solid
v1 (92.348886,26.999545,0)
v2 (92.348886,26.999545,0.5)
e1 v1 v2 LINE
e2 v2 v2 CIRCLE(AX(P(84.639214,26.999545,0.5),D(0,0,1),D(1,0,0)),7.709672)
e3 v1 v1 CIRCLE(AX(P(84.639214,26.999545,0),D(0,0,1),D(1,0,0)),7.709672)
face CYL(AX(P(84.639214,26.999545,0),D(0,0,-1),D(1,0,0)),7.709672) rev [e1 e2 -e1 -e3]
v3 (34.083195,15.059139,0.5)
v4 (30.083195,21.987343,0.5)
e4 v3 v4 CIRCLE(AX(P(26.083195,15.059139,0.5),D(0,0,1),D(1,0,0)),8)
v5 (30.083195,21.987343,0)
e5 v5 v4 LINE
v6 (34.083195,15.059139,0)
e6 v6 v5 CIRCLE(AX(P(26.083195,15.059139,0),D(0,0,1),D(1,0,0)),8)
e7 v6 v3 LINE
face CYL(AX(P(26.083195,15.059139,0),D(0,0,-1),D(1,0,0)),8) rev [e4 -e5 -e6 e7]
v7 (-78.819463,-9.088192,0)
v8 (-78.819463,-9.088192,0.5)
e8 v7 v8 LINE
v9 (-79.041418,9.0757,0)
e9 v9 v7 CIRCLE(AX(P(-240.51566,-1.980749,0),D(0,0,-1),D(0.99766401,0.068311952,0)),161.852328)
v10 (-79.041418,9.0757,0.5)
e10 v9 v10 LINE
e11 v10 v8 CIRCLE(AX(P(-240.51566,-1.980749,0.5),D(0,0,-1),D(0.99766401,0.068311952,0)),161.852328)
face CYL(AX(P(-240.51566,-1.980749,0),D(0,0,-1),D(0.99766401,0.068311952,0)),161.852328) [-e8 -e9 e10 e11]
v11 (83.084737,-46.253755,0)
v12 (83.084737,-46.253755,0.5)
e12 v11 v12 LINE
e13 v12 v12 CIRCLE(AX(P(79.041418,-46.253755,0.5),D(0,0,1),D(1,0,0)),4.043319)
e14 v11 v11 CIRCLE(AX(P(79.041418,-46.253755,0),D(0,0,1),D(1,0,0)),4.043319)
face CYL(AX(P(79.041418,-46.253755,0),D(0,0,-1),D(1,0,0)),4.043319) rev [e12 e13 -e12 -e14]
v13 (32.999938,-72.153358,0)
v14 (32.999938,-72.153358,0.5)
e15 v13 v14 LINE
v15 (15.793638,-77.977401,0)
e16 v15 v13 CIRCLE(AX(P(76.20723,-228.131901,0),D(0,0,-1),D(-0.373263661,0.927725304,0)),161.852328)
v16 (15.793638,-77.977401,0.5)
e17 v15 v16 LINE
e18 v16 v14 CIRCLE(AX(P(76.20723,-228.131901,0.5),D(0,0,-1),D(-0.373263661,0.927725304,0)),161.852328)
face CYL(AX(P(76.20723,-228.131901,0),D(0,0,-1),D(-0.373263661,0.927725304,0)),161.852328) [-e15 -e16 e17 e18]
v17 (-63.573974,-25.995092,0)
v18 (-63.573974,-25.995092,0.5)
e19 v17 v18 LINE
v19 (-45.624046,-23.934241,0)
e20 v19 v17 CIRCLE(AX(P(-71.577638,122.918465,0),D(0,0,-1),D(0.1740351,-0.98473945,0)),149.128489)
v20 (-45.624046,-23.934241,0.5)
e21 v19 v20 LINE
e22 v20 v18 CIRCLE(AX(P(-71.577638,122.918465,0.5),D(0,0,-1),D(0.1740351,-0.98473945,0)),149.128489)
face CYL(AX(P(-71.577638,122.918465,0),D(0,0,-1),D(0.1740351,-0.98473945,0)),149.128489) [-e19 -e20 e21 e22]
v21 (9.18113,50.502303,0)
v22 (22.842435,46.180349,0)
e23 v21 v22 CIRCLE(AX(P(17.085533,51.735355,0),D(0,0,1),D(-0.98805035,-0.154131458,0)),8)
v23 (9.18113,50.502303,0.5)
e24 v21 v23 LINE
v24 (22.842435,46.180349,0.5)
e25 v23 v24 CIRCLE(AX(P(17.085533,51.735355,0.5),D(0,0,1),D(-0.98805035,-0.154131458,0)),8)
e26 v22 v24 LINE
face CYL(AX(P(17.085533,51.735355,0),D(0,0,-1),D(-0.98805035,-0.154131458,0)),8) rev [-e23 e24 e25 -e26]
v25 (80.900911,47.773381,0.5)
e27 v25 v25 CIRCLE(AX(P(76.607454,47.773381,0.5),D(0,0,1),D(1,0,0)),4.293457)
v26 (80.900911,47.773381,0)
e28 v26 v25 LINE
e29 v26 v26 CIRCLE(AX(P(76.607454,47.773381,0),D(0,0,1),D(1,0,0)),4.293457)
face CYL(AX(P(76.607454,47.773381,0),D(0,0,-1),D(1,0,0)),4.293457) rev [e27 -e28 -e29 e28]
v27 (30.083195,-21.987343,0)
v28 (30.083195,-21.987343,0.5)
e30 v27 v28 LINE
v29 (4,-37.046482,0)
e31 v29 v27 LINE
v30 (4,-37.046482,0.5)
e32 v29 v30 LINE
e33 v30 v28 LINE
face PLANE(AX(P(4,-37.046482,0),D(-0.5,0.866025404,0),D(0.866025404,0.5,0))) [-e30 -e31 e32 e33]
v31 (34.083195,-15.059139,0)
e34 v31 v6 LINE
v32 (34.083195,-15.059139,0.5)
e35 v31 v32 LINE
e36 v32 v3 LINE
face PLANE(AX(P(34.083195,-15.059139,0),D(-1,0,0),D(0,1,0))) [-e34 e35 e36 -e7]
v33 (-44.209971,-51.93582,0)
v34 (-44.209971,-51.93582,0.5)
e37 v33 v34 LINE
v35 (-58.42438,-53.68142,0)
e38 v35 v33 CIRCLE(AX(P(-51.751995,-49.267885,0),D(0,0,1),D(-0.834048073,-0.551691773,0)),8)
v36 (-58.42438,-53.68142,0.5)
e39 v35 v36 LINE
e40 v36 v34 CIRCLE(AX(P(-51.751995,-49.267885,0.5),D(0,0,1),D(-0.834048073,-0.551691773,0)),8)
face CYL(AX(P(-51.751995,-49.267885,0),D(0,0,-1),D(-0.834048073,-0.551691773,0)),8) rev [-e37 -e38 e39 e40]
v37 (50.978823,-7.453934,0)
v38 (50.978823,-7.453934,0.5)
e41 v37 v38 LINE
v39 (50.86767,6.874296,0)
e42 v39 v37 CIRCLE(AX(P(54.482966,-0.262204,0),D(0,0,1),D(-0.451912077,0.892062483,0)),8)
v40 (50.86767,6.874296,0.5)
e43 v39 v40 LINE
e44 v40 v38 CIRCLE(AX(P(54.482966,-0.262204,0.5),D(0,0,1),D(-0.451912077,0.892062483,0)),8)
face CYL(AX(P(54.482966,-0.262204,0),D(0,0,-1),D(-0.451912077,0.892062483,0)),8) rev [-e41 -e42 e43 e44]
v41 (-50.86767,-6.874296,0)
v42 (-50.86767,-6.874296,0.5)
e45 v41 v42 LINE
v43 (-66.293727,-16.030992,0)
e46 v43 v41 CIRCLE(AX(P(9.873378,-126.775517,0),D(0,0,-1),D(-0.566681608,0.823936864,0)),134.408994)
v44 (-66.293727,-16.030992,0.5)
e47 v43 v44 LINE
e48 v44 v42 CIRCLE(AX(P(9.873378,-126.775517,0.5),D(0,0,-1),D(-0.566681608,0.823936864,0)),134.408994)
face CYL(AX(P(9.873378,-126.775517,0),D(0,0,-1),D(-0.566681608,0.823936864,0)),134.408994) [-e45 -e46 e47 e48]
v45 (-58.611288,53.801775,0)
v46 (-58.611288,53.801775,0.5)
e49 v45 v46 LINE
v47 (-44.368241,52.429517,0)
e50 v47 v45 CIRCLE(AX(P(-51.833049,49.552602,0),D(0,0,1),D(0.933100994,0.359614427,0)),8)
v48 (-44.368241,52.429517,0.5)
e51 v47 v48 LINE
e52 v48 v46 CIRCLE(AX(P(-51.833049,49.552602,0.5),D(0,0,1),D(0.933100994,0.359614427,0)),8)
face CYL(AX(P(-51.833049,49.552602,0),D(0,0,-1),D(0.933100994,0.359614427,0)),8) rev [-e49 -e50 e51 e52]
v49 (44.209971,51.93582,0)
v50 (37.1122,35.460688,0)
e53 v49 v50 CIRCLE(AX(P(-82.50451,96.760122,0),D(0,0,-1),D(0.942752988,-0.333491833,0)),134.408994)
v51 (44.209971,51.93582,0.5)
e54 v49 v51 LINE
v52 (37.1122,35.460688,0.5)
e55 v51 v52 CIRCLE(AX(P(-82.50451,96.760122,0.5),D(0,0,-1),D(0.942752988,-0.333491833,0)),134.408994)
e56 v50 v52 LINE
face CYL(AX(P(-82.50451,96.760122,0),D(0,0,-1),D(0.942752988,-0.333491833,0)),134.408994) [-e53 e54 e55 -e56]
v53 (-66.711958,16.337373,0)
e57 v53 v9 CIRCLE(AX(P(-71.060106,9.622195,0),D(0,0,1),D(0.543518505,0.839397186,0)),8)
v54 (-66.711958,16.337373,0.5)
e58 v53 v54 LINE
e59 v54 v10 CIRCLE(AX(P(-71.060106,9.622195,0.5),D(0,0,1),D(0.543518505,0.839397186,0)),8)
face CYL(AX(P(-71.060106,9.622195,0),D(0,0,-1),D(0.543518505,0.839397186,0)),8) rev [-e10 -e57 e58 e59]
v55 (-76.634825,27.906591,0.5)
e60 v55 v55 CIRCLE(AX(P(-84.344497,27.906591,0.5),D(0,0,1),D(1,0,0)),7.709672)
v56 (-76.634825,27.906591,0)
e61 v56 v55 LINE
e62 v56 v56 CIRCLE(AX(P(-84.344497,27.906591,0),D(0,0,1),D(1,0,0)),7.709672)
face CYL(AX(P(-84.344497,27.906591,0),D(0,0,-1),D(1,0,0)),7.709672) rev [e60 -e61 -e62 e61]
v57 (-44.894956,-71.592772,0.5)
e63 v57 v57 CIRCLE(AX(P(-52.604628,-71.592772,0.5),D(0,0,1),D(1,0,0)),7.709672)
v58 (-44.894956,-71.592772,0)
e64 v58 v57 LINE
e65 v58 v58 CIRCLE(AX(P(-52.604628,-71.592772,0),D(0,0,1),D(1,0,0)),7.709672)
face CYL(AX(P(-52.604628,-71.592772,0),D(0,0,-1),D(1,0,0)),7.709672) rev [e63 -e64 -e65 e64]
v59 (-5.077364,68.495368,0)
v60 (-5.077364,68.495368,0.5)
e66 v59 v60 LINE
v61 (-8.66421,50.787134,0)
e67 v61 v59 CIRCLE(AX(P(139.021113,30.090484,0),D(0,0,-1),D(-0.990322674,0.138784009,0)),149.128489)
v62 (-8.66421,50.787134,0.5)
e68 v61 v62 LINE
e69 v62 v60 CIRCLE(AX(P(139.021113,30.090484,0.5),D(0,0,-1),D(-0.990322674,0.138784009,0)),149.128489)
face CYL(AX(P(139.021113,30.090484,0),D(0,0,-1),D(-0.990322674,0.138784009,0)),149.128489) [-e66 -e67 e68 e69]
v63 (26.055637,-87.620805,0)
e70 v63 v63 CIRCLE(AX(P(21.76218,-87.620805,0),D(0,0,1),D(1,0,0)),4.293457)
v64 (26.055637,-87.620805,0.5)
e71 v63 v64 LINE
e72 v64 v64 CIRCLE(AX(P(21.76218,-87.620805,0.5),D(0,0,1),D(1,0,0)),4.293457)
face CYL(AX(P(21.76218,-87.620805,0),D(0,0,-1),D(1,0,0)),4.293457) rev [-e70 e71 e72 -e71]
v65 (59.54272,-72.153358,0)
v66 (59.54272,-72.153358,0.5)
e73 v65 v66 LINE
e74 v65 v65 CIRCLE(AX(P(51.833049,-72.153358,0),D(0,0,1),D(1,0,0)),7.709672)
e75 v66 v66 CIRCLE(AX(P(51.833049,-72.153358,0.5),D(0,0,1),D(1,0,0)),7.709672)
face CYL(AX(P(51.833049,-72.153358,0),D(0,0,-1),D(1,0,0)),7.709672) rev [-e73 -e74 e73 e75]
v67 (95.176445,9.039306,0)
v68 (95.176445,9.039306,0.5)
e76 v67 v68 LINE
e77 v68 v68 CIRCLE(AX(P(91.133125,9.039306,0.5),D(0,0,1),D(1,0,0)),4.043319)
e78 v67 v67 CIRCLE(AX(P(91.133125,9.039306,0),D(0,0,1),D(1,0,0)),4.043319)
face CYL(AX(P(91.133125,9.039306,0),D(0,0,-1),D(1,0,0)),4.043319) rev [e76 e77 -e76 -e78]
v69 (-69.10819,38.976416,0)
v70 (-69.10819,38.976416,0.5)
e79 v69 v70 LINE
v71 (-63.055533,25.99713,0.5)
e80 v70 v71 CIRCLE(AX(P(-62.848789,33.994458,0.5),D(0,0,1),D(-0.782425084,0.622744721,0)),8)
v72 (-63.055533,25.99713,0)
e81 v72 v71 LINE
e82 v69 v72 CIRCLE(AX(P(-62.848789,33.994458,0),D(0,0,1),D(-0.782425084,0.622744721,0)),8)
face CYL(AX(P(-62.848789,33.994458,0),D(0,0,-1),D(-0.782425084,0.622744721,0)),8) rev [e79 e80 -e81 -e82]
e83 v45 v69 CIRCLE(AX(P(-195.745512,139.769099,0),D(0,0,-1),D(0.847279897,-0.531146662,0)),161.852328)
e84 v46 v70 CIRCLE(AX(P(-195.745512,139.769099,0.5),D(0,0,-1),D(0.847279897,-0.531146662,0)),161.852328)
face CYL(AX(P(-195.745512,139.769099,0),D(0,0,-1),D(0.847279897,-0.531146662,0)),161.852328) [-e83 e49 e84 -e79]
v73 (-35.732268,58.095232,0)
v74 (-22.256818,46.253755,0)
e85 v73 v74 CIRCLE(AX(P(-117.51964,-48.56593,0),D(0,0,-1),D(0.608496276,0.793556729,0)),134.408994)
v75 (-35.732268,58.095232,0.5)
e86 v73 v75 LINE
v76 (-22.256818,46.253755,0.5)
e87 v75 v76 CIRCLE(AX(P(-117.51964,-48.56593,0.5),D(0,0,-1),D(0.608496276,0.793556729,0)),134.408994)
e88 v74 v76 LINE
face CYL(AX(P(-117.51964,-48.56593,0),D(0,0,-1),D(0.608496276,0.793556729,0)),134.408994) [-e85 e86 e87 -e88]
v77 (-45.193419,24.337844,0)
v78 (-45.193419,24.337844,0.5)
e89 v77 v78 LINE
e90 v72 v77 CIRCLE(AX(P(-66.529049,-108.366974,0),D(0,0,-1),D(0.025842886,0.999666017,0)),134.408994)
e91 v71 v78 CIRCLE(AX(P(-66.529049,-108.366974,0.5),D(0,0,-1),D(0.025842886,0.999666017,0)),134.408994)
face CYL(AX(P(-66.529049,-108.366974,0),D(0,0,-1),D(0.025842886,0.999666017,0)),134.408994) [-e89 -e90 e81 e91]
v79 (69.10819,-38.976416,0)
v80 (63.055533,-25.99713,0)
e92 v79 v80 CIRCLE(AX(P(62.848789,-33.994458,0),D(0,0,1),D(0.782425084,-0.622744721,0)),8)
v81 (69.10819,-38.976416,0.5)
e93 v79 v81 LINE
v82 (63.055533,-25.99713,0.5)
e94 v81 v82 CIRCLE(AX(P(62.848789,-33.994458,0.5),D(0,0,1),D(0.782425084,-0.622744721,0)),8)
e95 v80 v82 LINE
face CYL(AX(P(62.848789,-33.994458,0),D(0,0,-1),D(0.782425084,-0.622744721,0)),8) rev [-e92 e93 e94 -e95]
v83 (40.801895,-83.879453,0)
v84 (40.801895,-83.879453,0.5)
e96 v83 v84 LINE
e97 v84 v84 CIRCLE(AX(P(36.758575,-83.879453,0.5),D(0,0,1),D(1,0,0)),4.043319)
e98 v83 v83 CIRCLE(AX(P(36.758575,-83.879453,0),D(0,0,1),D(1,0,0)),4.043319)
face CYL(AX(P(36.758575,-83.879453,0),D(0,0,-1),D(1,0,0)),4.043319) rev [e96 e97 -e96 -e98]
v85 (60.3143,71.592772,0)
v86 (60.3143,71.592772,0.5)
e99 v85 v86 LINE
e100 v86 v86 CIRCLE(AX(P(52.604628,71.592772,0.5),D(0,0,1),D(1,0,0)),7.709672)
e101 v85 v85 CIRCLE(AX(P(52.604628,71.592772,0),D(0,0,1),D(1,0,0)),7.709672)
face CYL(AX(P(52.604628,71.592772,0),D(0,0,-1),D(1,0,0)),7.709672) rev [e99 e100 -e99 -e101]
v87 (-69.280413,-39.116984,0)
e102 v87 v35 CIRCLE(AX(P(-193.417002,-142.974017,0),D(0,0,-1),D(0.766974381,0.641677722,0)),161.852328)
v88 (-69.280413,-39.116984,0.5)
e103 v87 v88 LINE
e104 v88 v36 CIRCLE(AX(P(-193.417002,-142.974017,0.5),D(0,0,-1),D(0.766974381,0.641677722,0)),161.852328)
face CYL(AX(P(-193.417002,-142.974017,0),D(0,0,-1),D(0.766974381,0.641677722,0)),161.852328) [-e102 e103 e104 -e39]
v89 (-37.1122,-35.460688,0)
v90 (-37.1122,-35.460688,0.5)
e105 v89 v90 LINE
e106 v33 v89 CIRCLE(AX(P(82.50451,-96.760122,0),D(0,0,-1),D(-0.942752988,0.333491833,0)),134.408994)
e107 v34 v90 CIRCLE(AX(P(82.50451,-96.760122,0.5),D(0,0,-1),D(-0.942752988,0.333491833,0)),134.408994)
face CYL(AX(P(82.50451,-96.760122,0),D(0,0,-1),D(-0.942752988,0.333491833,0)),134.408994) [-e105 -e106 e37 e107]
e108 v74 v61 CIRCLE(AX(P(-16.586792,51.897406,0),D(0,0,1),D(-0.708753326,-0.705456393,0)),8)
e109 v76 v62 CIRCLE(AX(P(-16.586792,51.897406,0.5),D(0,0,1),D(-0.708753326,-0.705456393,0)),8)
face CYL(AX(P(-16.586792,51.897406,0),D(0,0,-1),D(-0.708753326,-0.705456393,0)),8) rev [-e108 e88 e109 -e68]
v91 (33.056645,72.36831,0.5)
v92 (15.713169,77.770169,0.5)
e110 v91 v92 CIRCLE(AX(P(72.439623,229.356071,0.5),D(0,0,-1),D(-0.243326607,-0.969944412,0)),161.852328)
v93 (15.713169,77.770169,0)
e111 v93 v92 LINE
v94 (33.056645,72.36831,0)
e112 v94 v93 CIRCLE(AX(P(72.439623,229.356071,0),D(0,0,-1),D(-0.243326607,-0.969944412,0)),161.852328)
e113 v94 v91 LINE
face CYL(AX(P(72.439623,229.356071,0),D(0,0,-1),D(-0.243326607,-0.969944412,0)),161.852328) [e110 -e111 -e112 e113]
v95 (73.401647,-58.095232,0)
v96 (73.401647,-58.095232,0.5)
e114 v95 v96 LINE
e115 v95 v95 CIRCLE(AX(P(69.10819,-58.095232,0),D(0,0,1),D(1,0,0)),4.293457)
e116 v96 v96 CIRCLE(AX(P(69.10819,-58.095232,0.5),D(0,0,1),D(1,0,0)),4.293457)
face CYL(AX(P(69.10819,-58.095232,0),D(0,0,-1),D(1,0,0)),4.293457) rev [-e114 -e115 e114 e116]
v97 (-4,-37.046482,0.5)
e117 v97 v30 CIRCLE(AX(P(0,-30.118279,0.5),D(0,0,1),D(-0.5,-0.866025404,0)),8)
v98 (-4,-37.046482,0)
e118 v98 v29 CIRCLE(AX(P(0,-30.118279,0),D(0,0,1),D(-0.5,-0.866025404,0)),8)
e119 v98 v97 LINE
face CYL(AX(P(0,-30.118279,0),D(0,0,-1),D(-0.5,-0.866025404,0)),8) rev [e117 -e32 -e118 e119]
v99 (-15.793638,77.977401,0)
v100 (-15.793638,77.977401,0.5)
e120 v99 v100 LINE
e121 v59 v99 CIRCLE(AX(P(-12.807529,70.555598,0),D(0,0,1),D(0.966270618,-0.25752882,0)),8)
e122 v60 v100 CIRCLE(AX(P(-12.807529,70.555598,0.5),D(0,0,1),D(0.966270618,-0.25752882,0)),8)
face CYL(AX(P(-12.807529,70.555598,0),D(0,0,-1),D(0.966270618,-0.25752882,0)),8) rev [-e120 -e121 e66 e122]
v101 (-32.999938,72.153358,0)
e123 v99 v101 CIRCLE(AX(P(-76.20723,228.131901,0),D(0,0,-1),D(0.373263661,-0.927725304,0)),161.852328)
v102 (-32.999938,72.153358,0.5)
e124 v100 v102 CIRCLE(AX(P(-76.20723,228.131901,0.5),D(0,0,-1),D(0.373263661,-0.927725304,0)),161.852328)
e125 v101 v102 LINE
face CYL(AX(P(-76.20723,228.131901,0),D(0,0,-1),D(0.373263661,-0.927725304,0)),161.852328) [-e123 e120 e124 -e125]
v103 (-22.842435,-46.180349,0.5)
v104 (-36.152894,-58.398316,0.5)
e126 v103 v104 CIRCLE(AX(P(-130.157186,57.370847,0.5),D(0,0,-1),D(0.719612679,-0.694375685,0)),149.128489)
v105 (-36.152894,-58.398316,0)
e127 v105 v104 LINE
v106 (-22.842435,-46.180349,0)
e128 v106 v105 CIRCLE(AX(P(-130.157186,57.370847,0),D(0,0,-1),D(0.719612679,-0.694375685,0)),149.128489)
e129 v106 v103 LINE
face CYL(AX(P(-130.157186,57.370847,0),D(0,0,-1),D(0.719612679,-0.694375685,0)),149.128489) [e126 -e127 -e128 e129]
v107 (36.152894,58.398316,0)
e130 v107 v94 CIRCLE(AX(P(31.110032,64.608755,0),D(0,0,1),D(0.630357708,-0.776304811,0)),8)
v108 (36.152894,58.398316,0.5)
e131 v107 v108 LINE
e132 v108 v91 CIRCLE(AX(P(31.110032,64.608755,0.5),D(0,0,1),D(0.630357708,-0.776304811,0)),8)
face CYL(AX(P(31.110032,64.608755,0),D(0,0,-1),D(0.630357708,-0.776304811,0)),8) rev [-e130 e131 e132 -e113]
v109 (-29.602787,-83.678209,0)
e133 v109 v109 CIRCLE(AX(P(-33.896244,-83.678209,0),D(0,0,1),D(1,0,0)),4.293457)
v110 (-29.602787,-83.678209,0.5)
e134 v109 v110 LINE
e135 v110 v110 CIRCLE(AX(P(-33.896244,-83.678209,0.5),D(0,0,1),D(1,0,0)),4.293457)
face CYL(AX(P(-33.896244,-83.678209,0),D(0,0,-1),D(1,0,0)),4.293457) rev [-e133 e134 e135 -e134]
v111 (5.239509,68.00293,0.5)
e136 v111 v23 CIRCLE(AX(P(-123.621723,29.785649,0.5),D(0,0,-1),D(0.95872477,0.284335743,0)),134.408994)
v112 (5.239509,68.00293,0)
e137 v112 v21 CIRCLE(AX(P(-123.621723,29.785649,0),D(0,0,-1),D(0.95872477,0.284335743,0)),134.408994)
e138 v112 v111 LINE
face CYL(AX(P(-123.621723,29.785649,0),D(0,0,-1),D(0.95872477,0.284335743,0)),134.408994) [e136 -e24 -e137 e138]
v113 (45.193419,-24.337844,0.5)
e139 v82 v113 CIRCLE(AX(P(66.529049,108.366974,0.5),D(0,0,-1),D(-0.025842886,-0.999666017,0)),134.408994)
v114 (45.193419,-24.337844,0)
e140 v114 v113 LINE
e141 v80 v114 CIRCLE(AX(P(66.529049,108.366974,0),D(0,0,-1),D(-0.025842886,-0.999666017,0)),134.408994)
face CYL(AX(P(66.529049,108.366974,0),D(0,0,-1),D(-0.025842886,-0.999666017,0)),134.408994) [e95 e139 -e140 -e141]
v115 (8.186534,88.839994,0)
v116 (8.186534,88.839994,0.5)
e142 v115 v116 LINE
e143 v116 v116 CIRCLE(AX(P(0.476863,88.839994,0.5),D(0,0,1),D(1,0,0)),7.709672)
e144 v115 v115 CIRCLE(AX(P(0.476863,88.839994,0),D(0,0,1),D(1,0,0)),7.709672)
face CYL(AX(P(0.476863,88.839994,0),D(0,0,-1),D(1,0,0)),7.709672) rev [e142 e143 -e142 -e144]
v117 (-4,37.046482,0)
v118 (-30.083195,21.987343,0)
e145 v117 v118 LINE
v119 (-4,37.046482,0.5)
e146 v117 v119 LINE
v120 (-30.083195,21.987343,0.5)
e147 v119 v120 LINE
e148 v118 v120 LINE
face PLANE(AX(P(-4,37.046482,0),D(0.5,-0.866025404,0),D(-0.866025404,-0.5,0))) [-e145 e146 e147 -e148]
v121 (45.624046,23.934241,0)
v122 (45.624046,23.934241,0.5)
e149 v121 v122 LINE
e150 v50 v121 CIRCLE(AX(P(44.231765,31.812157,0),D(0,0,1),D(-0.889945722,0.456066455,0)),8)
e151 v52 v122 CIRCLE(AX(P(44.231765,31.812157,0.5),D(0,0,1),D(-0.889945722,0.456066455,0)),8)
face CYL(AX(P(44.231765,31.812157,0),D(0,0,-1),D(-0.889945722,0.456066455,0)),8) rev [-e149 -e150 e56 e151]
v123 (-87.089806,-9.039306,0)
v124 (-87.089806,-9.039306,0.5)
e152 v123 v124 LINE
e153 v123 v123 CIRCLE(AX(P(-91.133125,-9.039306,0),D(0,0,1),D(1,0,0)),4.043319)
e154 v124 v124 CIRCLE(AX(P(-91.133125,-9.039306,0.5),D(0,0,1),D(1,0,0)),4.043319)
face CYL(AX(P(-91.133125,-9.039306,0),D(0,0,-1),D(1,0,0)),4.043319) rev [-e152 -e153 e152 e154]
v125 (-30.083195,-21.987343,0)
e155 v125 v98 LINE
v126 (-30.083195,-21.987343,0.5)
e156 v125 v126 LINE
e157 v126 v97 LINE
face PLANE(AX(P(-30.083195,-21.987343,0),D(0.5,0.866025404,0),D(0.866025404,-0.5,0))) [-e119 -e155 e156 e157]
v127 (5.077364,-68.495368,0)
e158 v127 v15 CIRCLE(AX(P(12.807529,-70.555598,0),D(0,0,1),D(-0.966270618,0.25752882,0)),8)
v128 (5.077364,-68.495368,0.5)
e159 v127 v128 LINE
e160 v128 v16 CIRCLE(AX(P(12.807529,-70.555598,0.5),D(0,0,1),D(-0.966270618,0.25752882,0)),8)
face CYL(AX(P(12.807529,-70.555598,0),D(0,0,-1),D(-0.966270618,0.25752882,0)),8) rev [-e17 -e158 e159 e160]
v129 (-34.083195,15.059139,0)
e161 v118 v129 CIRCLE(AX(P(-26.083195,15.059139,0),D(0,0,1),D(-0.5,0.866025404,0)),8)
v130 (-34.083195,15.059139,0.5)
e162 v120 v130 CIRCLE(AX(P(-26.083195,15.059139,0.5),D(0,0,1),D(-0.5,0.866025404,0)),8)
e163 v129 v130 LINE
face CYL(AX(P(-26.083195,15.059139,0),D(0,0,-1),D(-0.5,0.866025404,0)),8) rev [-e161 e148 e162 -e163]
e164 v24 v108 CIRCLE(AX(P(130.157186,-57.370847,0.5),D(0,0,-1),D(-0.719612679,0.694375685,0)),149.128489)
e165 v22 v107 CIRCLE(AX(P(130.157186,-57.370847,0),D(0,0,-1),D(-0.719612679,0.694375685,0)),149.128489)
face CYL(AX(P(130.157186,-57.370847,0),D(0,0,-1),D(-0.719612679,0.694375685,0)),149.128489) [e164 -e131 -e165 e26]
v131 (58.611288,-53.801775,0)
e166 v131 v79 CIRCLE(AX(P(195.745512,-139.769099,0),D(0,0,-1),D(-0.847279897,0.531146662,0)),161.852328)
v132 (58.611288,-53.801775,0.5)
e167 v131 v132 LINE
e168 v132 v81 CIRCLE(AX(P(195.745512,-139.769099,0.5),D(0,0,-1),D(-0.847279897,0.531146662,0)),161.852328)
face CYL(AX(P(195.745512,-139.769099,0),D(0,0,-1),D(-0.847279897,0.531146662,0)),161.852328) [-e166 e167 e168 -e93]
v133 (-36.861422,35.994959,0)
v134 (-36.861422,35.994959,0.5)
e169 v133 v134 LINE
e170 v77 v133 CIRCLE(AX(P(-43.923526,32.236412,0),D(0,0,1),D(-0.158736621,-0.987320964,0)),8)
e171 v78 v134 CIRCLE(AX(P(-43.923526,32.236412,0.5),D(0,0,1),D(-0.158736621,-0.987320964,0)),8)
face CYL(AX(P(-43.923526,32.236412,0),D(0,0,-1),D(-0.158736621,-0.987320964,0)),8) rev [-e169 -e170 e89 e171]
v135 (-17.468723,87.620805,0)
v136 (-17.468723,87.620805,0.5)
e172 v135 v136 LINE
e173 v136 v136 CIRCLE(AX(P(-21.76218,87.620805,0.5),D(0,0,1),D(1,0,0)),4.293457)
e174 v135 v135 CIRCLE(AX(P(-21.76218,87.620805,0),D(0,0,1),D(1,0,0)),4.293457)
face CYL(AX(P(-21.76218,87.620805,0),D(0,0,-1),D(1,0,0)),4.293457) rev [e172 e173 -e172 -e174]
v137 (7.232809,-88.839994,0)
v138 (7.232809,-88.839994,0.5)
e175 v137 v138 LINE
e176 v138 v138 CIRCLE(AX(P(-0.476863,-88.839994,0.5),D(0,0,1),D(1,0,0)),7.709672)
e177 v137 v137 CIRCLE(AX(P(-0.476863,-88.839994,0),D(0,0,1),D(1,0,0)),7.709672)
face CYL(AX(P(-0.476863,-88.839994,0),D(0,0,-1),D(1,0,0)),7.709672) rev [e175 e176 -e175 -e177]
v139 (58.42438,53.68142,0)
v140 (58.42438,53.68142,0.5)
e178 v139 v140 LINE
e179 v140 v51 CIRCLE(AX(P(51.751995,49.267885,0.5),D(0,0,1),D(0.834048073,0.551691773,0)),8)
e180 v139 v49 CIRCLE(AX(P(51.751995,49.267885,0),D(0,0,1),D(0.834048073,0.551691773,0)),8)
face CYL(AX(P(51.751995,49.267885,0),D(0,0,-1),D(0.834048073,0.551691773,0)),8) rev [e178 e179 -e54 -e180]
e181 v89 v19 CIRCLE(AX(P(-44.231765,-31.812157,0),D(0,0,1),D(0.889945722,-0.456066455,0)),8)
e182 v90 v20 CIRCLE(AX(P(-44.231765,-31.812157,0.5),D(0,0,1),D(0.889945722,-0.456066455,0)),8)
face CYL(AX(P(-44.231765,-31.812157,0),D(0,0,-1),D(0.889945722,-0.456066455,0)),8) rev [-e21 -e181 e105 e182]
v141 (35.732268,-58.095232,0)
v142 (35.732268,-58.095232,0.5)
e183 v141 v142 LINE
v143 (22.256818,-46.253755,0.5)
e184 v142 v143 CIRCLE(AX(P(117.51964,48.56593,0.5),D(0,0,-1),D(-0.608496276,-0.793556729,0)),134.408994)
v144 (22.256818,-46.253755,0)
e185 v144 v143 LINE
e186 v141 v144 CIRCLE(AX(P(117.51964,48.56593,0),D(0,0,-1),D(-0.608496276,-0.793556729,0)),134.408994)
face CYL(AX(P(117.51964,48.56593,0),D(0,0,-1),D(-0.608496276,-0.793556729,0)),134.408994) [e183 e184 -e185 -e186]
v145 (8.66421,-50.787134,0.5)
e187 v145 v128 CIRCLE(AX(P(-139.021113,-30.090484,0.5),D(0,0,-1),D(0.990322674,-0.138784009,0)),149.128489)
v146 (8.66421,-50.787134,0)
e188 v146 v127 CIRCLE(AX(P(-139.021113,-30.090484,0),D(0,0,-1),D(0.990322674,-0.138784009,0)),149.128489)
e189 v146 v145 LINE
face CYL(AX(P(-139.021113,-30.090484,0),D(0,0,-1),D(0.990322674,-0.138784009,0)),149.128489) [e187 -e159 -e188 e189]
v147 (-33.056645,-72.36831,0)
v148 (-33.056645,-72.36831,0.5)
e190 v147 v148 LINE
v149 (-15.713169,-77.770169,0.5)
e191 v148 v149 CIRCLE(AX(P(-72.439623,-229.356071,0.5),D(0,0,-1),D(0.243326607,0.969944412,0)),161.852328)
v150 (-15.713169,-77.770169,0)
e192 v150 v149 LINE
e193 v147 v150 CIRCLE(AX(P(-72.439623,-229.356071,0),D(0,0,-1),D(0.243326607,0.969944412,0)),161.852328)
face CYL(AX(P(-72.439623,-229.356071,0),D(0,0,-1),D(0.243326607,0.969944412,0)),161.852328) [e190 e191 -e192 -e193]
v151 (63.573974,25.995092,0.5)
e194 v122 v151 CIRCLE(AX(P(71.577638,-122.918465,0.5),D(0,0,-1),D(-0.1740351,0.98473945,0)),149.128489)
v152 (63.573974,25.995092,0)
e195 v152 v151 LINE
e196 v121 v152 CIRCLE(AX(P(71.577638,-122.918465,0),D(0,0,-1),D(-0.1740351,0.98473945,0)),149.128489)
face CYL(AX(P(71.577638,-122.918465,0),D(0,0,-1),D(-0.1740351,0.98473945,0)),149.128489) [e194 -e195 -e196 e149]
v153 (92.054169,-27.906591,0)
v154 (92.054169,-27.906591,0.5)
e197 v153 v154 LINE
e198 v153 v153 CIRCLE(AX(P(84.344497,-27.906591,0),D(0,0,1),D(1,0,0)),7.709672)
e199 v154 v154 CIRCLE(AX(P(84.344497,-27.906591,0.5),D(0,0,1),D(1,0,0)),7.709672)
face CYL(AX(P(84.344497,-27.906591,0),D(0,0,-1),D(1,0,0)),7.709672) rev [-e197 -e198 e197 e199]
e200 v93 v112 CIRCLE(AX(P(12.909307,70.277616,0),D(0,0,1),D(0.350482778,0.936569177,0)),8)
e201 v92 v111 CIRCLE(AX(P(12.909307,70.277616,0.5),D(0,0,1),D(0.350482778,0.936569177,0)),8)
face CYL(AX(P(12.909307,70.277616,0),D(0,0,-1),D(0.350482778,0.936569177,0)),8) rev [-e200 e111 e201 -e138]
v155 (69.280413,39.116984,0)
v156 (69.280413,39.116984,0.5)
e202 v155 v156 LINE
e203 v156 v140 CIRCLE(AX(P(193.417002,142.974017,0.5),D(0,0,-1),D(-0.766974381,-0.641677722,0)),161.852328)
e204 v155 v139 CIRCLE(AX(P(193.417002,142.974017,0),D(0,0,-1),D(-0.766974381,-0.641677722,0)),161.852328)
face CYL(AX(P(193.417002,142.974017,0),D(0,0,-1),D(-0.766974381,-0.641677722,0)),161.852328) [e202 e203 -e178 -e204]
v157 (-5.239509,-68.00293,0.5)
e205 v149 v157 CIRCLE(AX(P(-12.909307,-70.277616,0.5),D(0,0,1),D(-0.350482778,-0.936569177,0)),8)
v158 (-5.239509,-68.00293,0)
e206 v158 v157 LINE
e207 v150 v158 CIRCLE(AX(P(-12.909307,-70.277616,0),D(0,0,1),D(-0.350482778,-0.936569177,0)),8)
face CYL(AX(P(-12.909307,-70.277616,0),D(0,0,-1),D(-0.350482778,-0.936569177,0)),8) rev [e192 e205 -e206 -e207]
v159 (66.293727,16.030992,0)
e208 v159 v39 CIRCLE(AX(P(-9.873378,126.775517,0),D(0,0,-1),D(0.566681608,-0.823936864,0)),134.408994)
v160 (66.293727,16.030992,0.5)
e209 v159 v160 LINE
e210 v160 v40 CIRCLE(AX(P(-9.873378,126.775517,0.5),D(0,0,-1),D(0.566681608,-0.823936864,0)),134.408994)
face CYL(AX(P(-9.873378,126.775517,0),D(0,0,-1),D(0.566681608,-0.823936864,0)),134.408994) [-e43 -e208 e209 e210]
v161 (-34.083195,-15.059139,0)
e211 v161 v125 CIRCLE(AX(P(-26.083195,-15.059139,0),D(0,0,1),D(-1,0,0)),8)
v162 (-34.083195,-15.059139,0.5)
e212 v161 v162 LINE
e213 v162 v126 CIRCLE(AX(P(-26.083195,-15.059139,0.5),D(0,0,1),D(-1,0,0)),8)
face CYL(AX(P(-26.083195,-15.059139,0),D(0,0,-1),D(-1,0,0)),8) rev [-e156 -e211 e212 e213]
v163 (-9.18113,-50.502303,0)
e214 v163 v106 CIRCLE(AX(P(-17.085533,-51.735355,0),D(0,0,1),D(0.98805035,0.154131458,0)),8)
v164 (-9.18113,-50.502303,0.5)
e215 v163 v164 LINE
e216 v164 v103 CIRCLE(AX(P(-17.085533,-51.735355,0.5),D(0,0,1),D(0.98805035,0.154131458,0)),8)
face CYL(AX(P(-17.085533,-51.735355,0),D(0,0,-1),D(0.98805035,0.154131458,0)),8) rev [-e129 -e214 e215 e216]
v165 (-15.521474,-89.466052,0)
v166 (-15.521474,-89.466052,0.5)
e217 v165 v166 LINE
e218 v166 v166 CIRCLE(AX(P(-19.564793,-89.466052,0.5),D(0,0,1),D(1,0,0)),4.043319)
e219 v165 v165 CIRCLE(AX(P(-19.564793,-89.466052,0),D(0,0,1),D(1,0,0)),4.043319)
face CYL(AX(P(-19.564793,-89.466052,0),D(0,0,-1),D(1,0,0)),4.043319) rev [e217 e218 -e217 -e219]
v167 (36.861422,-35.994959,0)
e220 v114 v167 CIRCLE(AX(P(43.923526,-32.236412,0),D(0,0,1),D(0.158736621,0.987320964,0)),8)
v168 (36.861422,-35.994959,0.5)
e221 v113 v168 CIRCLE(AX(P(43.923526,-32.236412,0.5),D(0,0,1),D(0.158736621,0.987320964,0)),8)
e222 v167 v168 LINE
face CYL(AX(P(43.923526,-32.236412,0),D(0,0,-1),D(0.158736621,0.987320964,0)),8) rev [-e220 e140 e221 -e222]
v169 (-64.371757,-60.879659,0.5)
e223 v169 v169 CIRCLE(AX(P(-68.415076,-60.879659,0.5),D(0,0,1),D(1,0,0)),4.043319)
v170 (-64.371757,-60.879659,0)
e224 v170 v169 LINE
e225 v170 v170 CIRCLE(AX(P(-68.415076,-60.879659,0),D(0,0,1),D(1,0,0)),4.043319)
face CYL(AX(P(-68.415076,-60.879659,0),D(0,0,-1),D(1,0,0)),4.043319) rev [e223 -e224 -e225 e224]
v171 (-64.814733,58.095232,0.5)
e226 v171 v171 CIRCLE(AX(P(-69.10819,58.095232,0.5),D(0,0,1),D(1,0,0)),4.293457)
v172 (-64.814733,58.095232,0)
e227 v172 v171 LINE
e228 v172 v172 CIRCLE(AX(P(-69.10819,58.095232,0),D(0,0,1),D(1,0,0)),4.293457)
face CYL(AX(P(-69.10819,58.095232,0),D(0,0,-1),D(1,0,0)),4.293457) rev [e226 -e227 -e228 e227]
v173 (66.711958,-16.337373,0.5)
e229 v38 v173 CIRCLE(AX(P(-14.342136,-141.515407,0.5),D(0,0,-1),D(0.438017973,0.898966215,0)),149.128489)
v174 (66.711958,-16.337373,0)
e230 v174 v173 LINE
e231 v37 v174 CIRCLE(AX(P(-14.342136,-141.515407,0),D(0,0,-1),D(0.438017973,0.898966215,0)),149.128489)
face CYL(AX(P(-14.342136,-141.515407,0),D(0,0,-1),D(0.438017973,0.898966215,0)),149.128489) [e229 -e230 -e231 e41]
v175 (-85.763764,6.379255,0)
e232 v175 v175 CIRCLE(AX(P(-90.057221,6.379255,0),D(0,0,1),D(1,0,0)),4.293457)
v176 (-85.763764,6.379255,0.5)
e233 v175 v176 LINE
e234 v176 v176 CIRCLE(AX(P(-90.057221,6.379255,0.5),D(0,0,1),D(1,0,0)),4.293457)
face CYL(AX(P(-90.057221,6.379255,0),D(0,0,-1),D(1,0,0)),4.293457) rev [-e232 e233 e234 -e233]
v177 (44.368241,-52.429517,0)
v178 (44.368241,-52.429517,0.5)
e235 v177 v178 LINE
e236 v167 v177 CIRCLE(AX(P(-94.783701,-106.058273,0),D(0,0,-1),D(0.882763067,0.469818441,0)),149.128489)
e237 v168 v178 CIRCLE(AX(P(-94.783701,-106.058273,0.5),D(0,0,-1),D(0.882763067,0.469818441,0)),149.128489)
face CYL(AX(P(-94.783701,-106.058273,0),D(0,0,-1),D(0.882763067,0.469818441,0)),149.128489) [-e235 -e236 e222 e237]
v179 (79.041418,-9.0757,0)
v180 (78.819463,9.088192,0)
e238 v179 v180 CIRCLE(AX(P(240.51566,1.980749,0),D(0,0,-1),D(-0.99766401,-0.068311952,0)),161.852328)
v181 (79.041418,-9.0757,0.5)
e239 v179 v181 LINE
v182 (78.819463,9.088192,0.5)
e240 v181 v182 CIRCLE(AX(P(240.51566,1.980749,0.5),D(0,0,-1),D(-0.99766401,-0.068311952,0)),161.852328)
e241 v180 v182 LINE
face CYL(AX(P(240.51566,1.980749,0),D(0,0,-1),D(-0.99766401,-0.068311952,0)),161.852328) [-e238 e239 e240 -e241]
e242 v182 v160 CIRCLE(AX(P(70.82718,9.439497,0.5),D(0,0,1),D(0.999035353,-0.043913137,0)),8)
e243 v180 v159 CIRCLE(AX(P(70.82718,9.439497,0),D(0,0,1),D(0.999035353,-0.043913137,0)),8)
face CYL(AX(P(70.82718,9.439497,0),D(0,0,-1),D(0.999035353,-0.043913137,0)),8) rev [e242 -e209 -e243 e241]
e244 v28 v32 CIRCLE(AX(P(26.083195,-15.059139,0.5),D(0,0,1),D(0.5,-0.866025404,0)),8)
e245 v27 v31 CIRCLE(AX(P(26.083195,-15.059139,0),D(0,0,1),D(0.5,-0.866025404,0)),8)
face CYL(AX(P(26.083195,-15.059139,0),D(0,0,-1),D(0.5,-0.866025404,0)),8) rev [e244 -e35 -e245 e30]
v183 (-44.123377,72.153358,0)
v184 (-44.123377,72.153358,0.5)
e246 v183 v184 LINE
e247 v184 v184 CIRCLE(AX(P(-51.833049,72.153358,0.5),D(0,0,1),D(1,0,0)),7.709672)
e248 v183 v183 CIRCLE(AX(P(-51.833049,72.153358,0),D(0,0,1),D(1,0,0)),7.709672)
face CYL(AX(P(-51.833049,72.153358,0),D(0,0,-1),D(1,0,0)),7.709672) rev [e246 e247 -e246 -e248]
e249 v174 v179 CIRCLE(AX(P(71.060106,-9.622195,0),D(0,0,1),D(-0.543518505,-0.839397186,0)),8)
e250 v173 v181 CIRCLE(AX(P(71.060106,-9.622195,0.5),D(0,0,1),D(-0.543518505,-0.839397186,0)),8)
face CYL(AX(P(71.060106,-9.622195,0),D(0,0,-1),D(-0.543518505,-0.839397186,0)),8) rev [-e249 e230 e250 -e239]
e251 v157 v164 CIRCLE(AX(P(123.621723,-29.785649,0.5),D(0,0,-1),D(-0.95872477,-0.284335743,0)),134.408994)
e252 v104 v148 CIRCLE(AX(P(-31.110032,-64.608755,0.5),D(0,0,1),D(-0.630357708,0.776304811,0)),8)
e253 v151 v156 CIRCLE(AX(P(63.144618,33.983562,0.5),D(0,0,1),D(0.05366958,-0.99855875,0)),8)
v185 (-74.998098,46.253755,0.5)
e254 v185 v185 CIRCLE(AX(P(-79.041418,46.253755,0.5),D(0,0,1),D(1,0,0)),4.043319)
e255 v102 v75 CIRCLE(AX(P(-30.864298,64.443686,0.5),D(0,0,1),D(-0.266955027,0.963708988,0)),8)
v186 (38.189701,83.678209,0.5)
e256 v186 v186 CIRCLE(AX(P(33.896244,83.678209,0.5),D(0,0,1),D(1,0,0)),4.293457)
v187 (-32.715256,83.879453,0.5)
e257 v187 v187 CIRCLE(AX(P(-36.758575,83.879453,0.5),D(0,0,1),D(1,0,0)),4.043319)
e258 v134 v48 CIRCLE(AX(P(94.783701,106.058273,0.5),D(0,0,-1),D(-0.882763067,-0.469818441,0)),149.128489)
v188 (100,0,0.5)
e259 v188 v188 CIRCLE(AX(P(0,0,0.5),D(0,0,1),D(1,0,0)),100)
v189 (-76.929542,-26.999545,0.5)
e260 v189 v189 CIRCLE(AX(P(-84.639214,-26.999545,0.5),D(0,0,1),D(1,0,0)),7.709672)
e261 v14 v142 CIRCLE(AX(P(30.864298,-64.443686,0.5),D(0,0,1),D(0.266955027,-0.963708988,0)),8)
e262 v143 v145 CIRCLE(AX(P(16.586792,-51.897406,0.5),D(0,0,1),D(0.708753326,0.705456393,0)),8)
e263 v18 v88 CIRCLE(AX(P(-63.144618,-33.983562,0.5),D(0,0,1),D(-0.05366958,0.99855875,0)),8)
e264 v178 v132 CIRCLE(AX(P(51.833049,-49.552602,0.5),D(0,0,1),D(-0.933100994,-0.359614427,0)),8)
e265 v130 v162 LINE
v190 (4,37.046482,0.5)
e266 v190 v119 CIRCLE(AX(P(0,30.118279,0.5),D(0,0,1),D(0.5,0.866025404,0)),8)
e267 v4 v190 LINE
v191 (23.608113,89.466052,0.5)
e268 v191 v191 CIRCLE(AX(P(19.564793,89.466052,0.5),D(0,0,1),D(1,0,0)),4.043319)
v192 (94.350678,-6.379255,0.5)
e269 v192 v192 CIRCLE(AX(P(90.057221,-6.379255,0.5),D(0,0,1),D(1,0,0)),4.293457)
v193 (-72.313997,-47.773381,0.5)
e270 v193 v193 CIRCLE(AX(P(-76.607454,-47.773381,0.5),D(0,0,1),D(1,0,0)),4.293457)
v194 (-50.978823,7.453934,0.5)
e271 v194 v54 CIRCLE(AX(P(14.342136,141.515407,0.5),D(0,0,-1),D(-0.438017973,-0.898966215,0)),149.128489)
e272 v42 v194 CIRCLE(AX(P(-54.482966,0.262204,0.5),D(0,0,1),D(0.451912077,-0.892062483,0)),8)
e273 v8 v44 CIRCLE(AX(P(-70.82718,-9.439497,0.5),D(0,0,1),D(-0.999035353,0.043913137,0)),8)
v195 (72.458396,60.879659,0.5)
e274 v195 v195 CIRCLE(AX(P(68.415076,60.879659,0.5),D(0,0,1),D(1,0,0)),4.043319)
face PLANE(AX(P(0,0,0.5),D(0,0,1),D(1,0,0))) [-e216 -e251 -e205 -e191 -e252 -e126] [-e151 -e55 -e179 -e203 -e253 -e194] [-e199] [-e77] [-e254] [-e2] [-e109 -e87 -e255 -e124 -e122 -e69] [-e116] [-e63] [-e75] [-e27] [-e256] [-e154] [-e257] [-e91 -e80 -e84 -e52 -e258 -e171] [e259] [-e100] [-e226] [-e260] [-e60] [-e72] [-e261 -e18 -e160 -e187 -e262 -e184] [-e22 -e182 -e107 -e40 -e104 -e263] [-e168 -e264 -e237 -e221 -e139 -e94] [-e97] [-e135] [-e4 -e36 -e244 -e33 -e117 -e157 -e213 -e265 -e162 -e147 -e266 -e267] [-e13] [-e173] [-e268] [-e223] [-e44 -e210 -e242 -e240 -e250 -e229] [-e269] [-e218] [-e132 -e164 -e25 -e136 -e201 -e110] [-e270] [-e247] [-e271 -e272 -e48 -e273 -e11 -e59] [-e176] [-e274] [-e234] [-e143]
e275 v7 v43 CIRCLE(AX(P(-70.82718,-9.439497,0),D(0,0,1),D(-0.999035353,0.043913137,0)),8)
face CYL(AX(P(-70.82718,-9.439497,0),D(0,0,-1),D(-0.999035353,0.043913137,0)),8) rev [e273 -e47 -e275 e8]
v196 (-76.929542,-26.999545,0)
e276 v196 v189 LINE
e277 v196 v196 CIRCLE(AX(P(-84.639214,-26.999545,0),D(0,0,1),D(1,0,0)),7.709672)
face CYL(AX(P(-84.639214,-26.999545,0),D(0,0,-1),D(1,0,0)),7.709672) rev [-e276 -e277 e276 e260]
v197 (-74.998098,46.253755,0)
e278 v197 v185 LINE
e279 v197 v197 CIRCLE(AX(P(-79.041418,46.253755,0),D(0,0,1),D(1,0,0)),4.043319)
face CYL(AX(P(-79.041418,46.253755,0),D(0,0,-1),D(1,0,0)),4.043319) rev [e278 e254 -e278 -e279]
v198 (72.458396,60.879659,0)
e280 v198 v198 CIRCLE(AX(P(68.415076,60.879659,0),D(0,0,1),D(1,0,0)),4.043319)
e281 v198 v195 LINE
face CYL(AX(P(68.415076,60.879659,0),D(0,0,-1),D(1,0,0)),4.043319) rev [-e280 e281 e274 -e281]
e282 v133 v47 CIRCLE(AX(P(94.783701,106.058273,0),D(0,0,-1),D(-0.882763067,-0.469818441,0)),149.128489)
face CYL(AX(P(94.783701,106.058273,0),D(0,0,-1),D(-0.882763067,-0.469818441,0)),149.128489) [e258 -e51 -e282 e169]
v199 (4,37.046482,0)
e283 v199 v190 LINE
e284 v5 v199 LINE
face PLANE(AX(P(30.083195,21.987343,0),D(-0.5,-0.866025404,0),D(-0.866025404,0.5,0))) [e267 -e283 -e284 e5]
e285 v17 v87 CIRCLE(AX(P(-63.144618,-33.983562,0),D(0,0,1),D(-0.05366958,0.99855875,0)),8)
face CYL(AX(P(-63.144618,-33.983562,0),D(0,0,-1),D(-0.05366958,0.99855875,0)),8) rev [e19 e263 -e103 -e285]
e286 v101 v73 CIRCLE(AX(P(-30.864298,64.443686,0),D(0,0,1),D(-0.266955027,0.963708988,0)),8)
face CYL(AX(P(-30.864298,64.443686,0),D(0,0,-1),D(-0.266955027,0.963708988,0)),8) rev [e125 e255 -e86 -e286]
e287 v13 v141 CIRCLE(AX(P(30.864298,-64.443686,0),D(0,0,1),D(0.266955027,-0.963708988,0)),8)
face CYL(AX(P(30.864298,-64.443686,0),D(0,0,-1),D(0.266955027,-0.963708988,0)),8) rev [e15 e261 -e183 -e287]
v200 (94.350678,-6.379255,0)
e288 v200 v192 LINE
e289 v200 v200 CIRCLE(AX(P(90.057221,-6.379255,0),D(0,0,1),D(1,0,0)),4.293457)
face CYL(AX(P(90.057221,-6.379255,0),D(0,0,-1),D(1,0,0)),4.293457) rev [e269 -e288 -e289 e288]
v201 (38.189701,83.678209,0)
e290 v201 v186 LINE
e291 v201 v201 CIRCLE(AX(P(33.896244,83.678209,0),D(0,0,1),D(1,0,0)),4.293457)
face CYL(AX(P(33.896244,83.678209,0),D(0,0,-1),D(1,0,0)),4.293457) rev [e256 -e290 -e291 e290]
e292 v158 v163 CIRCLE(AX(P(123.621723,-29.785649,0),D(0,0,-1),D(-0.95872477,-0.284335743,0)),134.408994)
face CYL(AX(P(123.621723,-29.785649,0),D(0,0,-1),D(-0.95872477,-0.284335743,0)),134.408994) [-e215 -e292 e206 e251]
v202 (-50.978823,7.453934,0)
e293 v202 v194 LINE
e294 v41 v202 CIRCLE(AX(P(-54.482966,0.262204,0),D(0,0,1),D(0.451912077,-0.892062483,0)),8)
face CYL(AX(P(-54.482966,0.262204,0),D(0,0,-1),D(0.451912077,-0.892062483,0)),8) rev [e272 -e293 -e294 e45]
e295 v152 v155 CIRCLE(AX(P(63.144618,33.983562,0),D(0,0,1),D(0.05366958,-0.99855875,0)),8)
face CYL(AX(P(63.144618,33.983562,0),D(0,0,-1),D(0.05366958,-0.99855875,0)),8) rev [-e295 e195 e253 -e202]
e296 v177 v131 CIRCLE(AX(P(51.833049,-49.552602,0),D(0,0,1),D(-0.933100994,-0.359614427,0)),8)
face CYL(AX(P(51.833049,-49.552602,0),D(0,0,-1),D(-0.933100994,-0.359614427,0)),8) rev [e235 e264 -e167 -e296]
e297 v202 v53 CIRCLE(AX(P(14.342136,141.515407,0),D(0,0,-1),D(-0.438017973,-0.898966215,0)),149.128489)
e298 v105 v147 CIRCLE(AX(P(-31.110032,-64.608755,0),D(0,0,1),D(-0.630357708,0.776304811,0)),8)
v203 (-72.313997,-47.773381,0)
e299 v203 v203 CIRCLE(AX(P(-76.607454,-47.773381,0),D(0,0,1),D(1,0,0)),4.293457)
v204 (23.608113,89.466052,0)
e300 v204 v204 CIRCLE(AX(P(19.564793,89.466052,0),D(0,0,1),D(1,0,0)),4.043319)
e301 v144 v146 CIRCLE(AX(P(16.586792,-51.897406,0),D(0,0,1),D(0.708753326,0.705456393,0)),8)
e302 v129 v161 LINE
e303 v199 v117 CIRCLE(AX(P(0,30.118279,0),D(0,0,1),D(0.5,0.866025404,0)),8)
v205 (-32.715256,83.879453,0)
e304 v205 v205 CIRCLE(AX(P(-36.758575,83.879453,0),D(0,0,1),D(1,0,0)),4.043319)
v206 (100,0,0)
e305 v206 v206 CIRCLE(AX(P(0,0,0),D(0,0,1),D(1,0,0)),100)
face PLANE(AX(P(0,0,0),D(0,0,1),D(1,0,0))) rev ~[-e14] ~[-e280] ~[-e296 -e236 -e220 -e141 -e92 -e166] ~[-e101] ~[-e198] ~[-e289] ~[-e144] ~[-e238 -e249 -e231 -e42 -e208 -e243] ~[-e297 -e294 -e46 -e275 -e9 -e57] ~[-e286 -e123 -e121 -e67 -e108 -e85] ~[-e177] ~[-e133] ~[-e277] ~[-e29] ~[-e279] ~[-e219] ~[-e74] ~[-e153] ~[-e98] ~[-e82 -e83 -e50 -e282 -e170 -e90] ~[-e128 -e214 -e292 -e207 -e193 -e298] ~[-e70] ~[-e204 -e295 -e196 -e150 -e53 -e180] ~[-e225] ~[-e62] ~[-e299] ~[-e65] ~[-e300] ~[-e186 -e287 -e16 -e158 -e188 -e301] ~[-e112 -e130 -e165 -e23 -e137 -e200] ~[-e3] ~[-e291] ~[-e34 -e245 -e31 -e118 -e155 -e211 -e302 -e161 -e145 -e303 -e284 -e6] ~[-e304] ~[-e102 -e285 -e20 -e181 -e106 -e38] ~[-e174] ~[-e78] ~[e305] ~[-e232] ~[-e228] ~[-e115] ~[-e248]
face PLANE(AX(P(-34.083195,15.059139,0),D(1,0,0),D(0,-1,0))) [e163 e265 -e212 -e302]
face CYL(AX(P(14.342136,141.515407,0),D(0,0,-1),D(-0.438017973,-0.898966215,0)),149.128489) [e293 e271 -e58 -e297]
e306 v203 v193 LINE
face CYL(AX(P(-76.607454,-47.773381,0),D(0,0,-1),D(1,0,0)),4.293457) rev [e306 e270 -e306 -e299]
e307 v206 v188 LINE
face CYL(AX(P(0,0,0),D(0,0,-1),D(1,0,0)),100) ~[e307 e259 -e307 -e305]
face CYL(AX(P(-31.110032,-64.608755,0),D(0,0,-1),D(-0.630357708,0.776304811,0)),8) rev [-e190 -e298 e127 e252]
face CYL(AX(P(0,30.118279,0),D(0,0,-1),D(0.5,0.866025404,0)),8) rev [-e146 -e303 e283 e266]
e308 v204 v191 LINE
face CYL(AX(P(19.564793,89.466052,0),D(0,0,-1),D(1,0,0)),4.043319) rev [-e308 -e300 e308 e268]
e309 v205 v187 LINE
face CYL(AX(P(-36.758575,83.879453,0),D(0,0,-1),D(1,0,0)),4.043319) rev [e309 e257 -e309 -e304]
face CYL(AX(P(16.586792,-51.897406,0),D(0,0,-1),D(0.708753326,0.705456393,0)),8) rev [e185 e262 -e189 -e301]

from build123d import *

# Parameters (mm, degrees)
SKETCH4_R           = 100
SKETCH4_R_2         = 7.709671905
SKETCH4_R_3         = 4.293457035
SKETCH4_R_4         = 4.043319463
BOSS_EXTRUDE3_DEPTH = 0.5


with BuildPart() as part:
    # Sketch4 → Boss-Extrude3 (new body)
    with BuildSketch(Plane.XY):
        Circle(SKETCH4_R)
        with Locations((-51.833048523, 72.153357866)):
            Circle(SKETCH4_R_2, mode=Mode.SUBTRACT)
        with Locations((0.476862532, 88.839994218)):
            Circle(SKETCH4_R_2, mode=Mode.SUBTRACT)
        with Locations((52.604628307, 71.592772339)):
            Circle(SKETCH4_R_2, mode=Mode.SUBTRACT)
        with Locations((84.639214035, 26.999544775)):
            Circle(SKETCH4_R_2, mode=Mode.SUBTRACT)
        with Locations((84.344496782, -27.906591212)):
            Circle(SKETCH4_R_2, mode=Mode.SUBTRACT)
        with Locations((51.833048523, -72.153357866)):
            Circle(SKETCH4_R_2, mode=Mode.SUBTRACT)
        with Locations((-0.476862532, -88.839994218)):
            Circle(SKETCH4_R_2, mode=Mode.SUBTRACT)
        with Locations((-52.604628307, -71.592772339)):
            Circle(SKETCH4_R_2, mode=Mode.SUBTRACT)
        with Locations((-84.639214035, -26.999544775)):
            Circle(SKETCH4_R_2, mode=Mode.SUBTRACT)
        with Locations((-84.344496782, 27.906591212)):
            Circle(SKETCH4_R_2, mode=Mode.SUBTRACT)
        with Locations((-69.108190101, 58.095232128)):
            Circle(SKETCH4_R_3, mode=Mode.SUBTRACT)
        with Locations((-79.041417756, 46.2537546)):
            Circle(SKETCH4_R_4, mode=Mode.SUBTRACT)
        with Locations((-36.758575407, 83.879453202)):
            Circle(SKETCH4_R_4, mode=Mode.SUBTRACT)
        with Locations((-21.762179569, 87.620805038)):
            Circle(SKETCH4_R_3, mode=Mode.SUBTRACT)
        with Locations((19.56479337, 89.466051639)):
            Circle(SKETCH4_R_4, mode=Mode.SUBTRACT)
        with Locations((33.89624389, 83.678208545)):
            Circle(SKETCH4_R_3, mode=Mode.SUBTRACT)
        with Locations((68.415076062, 60.879659189)):
            Circle(SKETCH4_R_4, mode=Mode.SUBTRACT)
        with Locations((76.607454273, 47.773380505)):
            Circle(SKETCH4_R_3, mode=Mode.SUBTRACT)
        with Locations((91.133125041, 9.039306152)):
            Circle(SKETCH4_R_4, mode=Mode.SUBTRACT)
        with Locations((90.057220916, -6.37925513)):
            Circle(SKETCH4_R_3, mode=Mode.SUBTRACT)
        with Locations((79.041417756, -46.2537546)):
            Circle(SKETCH4_R_4, mode=Mode.SUBTRACT)
        with Locations((69.108190101, -58.095232128)):
            Circle(SKETCH4_R_3, mode=Mode.SUBTRACT)
        with Locations((36.758575407, -83.879453202)):
            Circle(SKETCH4_R_4, mode=Mode.SUBTRACT)
        with Locations((21.762179569, -87.620805038)):
            Circle(SKETCH4_R_3, mode=Mode.SUBTRACT)
        with Locations((-19.56479337, -89.466051639)):
            Circle(SKETCH4_R_4, mode=Mode.SUBTRACT)
        with Locations((-33.89624389, -83.678208545)):
            Circle(SKETCH4_R_3, mode=Mode.SUBTRACT)
        with Locations((-68.415076062, -60.879659189)):
            Circle(SKETCH4_R_4, mode=Mode.SUBTRACT)
        with Locations((-76.607454273, -47.773380505)):
            Circle(SKETCH4_R_3, mode=Mode.SUBTRACT)
        with Locations((-91.133125041, -9.039306152)):
            Circle(SKETCH4_R_4, mode=Mode.SUBTRACT)
        with Locations((-90.057220916, 6.37925513)):
            Circle(SKETCH4_R_3, mode=Mode.SUBTRACT)
        with BuildLine():
            Line((-30.083194516, -21.987342606), (-4, -37.046481981))
            ThreePointArc((-4, -37.046481981), (0, -38.118278751), (4, -37.046481981))
            Line((4, -37.046481981), (30.083194516, -21.987342606))
            ThreePointArc((30.083194516, -21.987342606), (33.011397747, -19.059139375), (34.083194516, -15.059139375))
            Line((34.083194516, -15.059139375), (34.083194516, 15.059139375))
            ThreePointArc((34.083194516, 15.059139375), (33.011397747, 19.059139375), (30.083194516, 21.987342606))
            Line((30.083194516, 21.987342606), (4, 37.046481981))
            ThreePointArc((4, 37.046481981), (0, 38.118278751), (-4, 37.046481981))
            Line((-4, 37.046481981), (-30.083194516, 21.987342606))
            ThreePointArc((-30.083194516, 21.987342606), (-33.011397747, 19.059139375), (-34.083194516, 15.059139375))
            Line((-34.083194516, 15.059139375), (-34.083194516, -15.059139375))
            ThreePointArc((-34.083194516, -15.059139375), (-33.011397747, -19.059139375), (-30.083194516, -21.987342606))
        make_face(mode=Mode.SUBTRACT)
        with BuildLine():
            ThreePointArc((-79.041417756, 9.075699852), (-78.675414747, -0.003129792), (-78.819462746, -9.088192042))
            ThreePointArc((-78.819462746, -9.088192042), (-74.705516442, -16.436532645), (-66.293727059, -16.03099205))
            ThreePointArc((-66.293727059, -16.03099205), (-58.733632242, -11.195000294), (-50.867669858, -6.874295994))
            ThreePointArc((-50.867669858, -6.874295994), (-46.483207187, 0.324262898), (-50.978822695, 7.453933594))
            ThreePointArc((-50.978822695, 7.453933594), (-58.980049319, 11.657163363), (-66.711957636, 16.33737295))
            ThreePointArc((-66.711957636, 16.33737295), (-75.12002492, 16.515457082), (-79.041417756, 9.075699852))
        make_face(mode=Mode.SUBTRACT)
        with BuildLine():
            ThreePointArc((-58.611287696, 53.801775093), (-63.651587216, 46.241716451), (-69.108190101, 38.976415985))
            ThreePointArc((-69.108190101, 38.976415985), (-70.099183862, 30.613366591), (-63.055532517, 25.99713008))
            ThreePointArc((-63.055532517, 25.99713008), (-54.096762698, 25.465817356), (-45.193419184, 24.337843877))
            ThreePointArc((-45.193419184, 24.337843877), (-37.415107618, 27.584477859), (-36.861421675, 35.994959112))
            ThreePointArc((-36.861421675, 35.994959112), (-40.86395352, 44.098446437), (-44.368240575, 52.42951721))
            ThreePointArc((-44.368240575, 52.42951721), (-51.065834671, 57.515728249), (-58.611287696, 53.801775093))
        make_face(mode=Mode.SUBTRACT)
        with BuildLine():
            ThreePointArc((-15.793637862, 77.977400904), (-24.315016806, 74.823798708), (-32.999937739, 72.153357866))
            ThreePointArc((-32.999937739, 72.153357866), (-38.717345631, 65.970000299), (-35.732267733, 58.095232128))
            ThreePointArc((-35.732267733, 58.095232128), (-28.796768484, 52.399558327), (-22.25681845, 46.2537546))
            ThreePointArc((-22.25681845, 46.2537546), (-14.055708632, 44.308359839), (-8.664210449, 50.787133672))
            ThreePointArc((-8.664210449, 50.787133672), (-7.139216391, 59.695621822), (-5.077363635, 68.49536791))
            ThreePointArc((-5.077363635, 68.49536791), (-7.506231241, 76.546946113), (-15.793637862, 77.977400904))
        make_face(mode=Mode.SUBTRACT)
        with BuildLine():
            ThreePointArc((33.05664483, 72.368309924), (24.309063587, 74.825733026), (15.713169213, 77.770169444))
            ThreePointArc((15.713169213, 77.770169444), (7.453202677, 76.128336131), (5.23950883, 68.002930089))
            ThreePointArc((5.23950883, 68.002930089), (7.502612525, 59.318449013), (9.18113045, 50.502303173))
            ThreePointArc((9.18113045, 50.502303173), (14.672493316, 44.107954347), (22.842434682, 46.180349362))
            ThreePointArc((22.842434682, 46.180349362), (29.312458747, 52.491098651), (36.152893641, 58.39831614))
            ThreePointArc((36.152893641, 58.39831614), (38.920497396, 66.339832296), (33.05664483, 72.368309924))
        make_face(mode=Mode.SUBTRACT)
        with BuildLine():
            ThreePointArc((69.280412751, 39.116984261), (63.647907924, 46.246780561), (58.424379596, 53.681419606))
            ThreePointArc((58.424379596, 53.681419606), (50.776880887, 57.208235068), (44.209971104, 51.935820089))
            ThreePointArc((44.209971104, 51.935820089), (40.936250553, 43.579708336), (37.112199574, 35.460688444))
            ThreePointArc((37.112199574, 35.460688444), (37.796301516, 27.059809469), (45.624046151, 23.934241207))
            ThreePointArc((45.624046151, 23.934241207), (54.567770937, 25.236759902), (63.573974337, 25.99509249))
            ThreePointArc((63.573974337, 25.99509249), (70.480918886, 30.793157351), (69.280412751, 39.116984261))
        make_face(mode=Mode.SUBTRACT)
        with BuildLine():
            ThreePointArc((79.041417756, -9.075699852), (78.675414747, 0.003129792), (78.819462746, 9.088192042))
            ThreePointArc((78.819462746, 9.088192042), (74.705516442, 16.436532645), (66.293727059, 16.03099205))
            ThreePointArc((66.293727059, 16.03099205), (58.733632242, 11.195000294), (50.867669858, 6.874295994))
            ThreePointArc((50.867669858, 6.874295994), (46.483207187, -0.324262898), (50.978822695, -7.453933594))
            ThreePointArc((50.978822695, -7.453933594), (58.980049319, -11.657163363), (66.711957636, -16.33737295))
            ThreePointArc((66.711957636, -16.33737295), (75.12002492, -16.515457082), (79.041417756, -9.075699852))
        make_face(mode=Mode.SUBTRACT)
        with BuildLine():
            ThreePointArc((58.611287696, -53.801775093), (63.651587216, -46.241716451), (69.108190101, -38.976415985))
            ThreePointArc((69.108190101, -38.976415985), (70.099183862, -30.613366591), (63.055532517, -25.99713008))
            ThreePointArc((63.055532517, -25.99713008), (54.096762698, -25.465817356), (45.193419184, -24.337843877))
            ThreePointArc((45.193419184, -24.337843877), (37.415107618, -27.584477859), (36.861421675, -35.994959112))
            ThreePointArc((36.861421675, -35.994959112), (40.86395352, -44.098446437), (44.368240575, -52.42951721))
            ThreePointArc((44.368240575, -52.42951721), (51.065834671, -57.515728249), (58.611287696, -53.801775093))
        make_face(mode=Mode.SUBTRACT)
        with BuildLine():
            ThreePointArc((15.793637862, -77.977400904), (24.315016806, -74.823798708), (32.999937739, -72.153357866))
            ThreePointArc((32.999937739, -72.153357866), (38.717345631, -65.970000299), (35.732267733, -58.095232128))
            ThreePointArc((35.732267733, -58.095232128), (28.796768484, -52.399558327), (22.25681845, -46.2537546))
            ThreePointArc((22.25681845, -46.2537546), (14.055708632, -44.308359839), (8.664210449, -50.787133672))
            ThreePointArc((8.664210449, -50.787133672), (7.139216391, -59.695621822), (5.077363635, -68.49536791))
            ThreePointArc((5.077363635, -68.49536791), (7.506231241, -76.546946113), (15.793637862, -77.977400904))
        make_face(mode=Mode.SUBTRACT)
        with BuildLine():
            ThreePointArc((-33.05664483, -72.368309924), (-24.309063587, -74.825733026), (-15.713169213, -77.770169444))
            ThreePointArc((-15.713169213, -77.770169444), (-7.453202677, -76.128336131), (-5.23950883, -68.002930089))
            ThreePointArc((-5.23950883, -68.002930089), (-7.502612525, -59.318449013), (-9.18113045, -50.502303173))
            ThreePointArc((-9.18113045, -50.502303173), (-14.672493316, -44.107954347), (-22.842434682, -46.180349362))
            ThreePointArc((-22.842434682, -46.180349362), (-29.312458747, -52.491098651), (-36.152893641, -58.39831614))
            ThreePointArc((-36.152893641, -58.39831614), (-38.920497396, -66.339832296), (-33.05664483, -72.368309924))
        make_face(mode=Mode.SUBTRACT)
        with BuildLine():
            ThreePointArc((-69.280412751, -39.116984261), (-63.647907924, -46.246780561), (-58.424379596, -53.681419606))
            ThreePointArc((-58.424379596, -53.681419606), (-50.776880887, -57.208235068), (-44.209971104, -51.935820089))
            ThreePointArc((-44.209971104, -51.935820089), (-40.936250553, -43.579708336), (-37.112199574, -35.460688444))
            ThreePointArc((-37.112199574, -35.460688444), (-37.796301516, -27.059809469), (-45.624046151, -23.934241207))
            ThreePointArc((-45.624046151, -23.934241207), (-54.567770937, -25.236759902), (-63.573974337, -25.99509249))
            ThreePointArc((-63.573974337, -25.99509249), (-70.480918886, -30.793157351), (-69.280412751, -39.116984261))
        make_face(mode=Mode.SUBTRACT)
    extrude(amount=BOSS_EXTRUDE3_DEPTH)


solid = part.part
